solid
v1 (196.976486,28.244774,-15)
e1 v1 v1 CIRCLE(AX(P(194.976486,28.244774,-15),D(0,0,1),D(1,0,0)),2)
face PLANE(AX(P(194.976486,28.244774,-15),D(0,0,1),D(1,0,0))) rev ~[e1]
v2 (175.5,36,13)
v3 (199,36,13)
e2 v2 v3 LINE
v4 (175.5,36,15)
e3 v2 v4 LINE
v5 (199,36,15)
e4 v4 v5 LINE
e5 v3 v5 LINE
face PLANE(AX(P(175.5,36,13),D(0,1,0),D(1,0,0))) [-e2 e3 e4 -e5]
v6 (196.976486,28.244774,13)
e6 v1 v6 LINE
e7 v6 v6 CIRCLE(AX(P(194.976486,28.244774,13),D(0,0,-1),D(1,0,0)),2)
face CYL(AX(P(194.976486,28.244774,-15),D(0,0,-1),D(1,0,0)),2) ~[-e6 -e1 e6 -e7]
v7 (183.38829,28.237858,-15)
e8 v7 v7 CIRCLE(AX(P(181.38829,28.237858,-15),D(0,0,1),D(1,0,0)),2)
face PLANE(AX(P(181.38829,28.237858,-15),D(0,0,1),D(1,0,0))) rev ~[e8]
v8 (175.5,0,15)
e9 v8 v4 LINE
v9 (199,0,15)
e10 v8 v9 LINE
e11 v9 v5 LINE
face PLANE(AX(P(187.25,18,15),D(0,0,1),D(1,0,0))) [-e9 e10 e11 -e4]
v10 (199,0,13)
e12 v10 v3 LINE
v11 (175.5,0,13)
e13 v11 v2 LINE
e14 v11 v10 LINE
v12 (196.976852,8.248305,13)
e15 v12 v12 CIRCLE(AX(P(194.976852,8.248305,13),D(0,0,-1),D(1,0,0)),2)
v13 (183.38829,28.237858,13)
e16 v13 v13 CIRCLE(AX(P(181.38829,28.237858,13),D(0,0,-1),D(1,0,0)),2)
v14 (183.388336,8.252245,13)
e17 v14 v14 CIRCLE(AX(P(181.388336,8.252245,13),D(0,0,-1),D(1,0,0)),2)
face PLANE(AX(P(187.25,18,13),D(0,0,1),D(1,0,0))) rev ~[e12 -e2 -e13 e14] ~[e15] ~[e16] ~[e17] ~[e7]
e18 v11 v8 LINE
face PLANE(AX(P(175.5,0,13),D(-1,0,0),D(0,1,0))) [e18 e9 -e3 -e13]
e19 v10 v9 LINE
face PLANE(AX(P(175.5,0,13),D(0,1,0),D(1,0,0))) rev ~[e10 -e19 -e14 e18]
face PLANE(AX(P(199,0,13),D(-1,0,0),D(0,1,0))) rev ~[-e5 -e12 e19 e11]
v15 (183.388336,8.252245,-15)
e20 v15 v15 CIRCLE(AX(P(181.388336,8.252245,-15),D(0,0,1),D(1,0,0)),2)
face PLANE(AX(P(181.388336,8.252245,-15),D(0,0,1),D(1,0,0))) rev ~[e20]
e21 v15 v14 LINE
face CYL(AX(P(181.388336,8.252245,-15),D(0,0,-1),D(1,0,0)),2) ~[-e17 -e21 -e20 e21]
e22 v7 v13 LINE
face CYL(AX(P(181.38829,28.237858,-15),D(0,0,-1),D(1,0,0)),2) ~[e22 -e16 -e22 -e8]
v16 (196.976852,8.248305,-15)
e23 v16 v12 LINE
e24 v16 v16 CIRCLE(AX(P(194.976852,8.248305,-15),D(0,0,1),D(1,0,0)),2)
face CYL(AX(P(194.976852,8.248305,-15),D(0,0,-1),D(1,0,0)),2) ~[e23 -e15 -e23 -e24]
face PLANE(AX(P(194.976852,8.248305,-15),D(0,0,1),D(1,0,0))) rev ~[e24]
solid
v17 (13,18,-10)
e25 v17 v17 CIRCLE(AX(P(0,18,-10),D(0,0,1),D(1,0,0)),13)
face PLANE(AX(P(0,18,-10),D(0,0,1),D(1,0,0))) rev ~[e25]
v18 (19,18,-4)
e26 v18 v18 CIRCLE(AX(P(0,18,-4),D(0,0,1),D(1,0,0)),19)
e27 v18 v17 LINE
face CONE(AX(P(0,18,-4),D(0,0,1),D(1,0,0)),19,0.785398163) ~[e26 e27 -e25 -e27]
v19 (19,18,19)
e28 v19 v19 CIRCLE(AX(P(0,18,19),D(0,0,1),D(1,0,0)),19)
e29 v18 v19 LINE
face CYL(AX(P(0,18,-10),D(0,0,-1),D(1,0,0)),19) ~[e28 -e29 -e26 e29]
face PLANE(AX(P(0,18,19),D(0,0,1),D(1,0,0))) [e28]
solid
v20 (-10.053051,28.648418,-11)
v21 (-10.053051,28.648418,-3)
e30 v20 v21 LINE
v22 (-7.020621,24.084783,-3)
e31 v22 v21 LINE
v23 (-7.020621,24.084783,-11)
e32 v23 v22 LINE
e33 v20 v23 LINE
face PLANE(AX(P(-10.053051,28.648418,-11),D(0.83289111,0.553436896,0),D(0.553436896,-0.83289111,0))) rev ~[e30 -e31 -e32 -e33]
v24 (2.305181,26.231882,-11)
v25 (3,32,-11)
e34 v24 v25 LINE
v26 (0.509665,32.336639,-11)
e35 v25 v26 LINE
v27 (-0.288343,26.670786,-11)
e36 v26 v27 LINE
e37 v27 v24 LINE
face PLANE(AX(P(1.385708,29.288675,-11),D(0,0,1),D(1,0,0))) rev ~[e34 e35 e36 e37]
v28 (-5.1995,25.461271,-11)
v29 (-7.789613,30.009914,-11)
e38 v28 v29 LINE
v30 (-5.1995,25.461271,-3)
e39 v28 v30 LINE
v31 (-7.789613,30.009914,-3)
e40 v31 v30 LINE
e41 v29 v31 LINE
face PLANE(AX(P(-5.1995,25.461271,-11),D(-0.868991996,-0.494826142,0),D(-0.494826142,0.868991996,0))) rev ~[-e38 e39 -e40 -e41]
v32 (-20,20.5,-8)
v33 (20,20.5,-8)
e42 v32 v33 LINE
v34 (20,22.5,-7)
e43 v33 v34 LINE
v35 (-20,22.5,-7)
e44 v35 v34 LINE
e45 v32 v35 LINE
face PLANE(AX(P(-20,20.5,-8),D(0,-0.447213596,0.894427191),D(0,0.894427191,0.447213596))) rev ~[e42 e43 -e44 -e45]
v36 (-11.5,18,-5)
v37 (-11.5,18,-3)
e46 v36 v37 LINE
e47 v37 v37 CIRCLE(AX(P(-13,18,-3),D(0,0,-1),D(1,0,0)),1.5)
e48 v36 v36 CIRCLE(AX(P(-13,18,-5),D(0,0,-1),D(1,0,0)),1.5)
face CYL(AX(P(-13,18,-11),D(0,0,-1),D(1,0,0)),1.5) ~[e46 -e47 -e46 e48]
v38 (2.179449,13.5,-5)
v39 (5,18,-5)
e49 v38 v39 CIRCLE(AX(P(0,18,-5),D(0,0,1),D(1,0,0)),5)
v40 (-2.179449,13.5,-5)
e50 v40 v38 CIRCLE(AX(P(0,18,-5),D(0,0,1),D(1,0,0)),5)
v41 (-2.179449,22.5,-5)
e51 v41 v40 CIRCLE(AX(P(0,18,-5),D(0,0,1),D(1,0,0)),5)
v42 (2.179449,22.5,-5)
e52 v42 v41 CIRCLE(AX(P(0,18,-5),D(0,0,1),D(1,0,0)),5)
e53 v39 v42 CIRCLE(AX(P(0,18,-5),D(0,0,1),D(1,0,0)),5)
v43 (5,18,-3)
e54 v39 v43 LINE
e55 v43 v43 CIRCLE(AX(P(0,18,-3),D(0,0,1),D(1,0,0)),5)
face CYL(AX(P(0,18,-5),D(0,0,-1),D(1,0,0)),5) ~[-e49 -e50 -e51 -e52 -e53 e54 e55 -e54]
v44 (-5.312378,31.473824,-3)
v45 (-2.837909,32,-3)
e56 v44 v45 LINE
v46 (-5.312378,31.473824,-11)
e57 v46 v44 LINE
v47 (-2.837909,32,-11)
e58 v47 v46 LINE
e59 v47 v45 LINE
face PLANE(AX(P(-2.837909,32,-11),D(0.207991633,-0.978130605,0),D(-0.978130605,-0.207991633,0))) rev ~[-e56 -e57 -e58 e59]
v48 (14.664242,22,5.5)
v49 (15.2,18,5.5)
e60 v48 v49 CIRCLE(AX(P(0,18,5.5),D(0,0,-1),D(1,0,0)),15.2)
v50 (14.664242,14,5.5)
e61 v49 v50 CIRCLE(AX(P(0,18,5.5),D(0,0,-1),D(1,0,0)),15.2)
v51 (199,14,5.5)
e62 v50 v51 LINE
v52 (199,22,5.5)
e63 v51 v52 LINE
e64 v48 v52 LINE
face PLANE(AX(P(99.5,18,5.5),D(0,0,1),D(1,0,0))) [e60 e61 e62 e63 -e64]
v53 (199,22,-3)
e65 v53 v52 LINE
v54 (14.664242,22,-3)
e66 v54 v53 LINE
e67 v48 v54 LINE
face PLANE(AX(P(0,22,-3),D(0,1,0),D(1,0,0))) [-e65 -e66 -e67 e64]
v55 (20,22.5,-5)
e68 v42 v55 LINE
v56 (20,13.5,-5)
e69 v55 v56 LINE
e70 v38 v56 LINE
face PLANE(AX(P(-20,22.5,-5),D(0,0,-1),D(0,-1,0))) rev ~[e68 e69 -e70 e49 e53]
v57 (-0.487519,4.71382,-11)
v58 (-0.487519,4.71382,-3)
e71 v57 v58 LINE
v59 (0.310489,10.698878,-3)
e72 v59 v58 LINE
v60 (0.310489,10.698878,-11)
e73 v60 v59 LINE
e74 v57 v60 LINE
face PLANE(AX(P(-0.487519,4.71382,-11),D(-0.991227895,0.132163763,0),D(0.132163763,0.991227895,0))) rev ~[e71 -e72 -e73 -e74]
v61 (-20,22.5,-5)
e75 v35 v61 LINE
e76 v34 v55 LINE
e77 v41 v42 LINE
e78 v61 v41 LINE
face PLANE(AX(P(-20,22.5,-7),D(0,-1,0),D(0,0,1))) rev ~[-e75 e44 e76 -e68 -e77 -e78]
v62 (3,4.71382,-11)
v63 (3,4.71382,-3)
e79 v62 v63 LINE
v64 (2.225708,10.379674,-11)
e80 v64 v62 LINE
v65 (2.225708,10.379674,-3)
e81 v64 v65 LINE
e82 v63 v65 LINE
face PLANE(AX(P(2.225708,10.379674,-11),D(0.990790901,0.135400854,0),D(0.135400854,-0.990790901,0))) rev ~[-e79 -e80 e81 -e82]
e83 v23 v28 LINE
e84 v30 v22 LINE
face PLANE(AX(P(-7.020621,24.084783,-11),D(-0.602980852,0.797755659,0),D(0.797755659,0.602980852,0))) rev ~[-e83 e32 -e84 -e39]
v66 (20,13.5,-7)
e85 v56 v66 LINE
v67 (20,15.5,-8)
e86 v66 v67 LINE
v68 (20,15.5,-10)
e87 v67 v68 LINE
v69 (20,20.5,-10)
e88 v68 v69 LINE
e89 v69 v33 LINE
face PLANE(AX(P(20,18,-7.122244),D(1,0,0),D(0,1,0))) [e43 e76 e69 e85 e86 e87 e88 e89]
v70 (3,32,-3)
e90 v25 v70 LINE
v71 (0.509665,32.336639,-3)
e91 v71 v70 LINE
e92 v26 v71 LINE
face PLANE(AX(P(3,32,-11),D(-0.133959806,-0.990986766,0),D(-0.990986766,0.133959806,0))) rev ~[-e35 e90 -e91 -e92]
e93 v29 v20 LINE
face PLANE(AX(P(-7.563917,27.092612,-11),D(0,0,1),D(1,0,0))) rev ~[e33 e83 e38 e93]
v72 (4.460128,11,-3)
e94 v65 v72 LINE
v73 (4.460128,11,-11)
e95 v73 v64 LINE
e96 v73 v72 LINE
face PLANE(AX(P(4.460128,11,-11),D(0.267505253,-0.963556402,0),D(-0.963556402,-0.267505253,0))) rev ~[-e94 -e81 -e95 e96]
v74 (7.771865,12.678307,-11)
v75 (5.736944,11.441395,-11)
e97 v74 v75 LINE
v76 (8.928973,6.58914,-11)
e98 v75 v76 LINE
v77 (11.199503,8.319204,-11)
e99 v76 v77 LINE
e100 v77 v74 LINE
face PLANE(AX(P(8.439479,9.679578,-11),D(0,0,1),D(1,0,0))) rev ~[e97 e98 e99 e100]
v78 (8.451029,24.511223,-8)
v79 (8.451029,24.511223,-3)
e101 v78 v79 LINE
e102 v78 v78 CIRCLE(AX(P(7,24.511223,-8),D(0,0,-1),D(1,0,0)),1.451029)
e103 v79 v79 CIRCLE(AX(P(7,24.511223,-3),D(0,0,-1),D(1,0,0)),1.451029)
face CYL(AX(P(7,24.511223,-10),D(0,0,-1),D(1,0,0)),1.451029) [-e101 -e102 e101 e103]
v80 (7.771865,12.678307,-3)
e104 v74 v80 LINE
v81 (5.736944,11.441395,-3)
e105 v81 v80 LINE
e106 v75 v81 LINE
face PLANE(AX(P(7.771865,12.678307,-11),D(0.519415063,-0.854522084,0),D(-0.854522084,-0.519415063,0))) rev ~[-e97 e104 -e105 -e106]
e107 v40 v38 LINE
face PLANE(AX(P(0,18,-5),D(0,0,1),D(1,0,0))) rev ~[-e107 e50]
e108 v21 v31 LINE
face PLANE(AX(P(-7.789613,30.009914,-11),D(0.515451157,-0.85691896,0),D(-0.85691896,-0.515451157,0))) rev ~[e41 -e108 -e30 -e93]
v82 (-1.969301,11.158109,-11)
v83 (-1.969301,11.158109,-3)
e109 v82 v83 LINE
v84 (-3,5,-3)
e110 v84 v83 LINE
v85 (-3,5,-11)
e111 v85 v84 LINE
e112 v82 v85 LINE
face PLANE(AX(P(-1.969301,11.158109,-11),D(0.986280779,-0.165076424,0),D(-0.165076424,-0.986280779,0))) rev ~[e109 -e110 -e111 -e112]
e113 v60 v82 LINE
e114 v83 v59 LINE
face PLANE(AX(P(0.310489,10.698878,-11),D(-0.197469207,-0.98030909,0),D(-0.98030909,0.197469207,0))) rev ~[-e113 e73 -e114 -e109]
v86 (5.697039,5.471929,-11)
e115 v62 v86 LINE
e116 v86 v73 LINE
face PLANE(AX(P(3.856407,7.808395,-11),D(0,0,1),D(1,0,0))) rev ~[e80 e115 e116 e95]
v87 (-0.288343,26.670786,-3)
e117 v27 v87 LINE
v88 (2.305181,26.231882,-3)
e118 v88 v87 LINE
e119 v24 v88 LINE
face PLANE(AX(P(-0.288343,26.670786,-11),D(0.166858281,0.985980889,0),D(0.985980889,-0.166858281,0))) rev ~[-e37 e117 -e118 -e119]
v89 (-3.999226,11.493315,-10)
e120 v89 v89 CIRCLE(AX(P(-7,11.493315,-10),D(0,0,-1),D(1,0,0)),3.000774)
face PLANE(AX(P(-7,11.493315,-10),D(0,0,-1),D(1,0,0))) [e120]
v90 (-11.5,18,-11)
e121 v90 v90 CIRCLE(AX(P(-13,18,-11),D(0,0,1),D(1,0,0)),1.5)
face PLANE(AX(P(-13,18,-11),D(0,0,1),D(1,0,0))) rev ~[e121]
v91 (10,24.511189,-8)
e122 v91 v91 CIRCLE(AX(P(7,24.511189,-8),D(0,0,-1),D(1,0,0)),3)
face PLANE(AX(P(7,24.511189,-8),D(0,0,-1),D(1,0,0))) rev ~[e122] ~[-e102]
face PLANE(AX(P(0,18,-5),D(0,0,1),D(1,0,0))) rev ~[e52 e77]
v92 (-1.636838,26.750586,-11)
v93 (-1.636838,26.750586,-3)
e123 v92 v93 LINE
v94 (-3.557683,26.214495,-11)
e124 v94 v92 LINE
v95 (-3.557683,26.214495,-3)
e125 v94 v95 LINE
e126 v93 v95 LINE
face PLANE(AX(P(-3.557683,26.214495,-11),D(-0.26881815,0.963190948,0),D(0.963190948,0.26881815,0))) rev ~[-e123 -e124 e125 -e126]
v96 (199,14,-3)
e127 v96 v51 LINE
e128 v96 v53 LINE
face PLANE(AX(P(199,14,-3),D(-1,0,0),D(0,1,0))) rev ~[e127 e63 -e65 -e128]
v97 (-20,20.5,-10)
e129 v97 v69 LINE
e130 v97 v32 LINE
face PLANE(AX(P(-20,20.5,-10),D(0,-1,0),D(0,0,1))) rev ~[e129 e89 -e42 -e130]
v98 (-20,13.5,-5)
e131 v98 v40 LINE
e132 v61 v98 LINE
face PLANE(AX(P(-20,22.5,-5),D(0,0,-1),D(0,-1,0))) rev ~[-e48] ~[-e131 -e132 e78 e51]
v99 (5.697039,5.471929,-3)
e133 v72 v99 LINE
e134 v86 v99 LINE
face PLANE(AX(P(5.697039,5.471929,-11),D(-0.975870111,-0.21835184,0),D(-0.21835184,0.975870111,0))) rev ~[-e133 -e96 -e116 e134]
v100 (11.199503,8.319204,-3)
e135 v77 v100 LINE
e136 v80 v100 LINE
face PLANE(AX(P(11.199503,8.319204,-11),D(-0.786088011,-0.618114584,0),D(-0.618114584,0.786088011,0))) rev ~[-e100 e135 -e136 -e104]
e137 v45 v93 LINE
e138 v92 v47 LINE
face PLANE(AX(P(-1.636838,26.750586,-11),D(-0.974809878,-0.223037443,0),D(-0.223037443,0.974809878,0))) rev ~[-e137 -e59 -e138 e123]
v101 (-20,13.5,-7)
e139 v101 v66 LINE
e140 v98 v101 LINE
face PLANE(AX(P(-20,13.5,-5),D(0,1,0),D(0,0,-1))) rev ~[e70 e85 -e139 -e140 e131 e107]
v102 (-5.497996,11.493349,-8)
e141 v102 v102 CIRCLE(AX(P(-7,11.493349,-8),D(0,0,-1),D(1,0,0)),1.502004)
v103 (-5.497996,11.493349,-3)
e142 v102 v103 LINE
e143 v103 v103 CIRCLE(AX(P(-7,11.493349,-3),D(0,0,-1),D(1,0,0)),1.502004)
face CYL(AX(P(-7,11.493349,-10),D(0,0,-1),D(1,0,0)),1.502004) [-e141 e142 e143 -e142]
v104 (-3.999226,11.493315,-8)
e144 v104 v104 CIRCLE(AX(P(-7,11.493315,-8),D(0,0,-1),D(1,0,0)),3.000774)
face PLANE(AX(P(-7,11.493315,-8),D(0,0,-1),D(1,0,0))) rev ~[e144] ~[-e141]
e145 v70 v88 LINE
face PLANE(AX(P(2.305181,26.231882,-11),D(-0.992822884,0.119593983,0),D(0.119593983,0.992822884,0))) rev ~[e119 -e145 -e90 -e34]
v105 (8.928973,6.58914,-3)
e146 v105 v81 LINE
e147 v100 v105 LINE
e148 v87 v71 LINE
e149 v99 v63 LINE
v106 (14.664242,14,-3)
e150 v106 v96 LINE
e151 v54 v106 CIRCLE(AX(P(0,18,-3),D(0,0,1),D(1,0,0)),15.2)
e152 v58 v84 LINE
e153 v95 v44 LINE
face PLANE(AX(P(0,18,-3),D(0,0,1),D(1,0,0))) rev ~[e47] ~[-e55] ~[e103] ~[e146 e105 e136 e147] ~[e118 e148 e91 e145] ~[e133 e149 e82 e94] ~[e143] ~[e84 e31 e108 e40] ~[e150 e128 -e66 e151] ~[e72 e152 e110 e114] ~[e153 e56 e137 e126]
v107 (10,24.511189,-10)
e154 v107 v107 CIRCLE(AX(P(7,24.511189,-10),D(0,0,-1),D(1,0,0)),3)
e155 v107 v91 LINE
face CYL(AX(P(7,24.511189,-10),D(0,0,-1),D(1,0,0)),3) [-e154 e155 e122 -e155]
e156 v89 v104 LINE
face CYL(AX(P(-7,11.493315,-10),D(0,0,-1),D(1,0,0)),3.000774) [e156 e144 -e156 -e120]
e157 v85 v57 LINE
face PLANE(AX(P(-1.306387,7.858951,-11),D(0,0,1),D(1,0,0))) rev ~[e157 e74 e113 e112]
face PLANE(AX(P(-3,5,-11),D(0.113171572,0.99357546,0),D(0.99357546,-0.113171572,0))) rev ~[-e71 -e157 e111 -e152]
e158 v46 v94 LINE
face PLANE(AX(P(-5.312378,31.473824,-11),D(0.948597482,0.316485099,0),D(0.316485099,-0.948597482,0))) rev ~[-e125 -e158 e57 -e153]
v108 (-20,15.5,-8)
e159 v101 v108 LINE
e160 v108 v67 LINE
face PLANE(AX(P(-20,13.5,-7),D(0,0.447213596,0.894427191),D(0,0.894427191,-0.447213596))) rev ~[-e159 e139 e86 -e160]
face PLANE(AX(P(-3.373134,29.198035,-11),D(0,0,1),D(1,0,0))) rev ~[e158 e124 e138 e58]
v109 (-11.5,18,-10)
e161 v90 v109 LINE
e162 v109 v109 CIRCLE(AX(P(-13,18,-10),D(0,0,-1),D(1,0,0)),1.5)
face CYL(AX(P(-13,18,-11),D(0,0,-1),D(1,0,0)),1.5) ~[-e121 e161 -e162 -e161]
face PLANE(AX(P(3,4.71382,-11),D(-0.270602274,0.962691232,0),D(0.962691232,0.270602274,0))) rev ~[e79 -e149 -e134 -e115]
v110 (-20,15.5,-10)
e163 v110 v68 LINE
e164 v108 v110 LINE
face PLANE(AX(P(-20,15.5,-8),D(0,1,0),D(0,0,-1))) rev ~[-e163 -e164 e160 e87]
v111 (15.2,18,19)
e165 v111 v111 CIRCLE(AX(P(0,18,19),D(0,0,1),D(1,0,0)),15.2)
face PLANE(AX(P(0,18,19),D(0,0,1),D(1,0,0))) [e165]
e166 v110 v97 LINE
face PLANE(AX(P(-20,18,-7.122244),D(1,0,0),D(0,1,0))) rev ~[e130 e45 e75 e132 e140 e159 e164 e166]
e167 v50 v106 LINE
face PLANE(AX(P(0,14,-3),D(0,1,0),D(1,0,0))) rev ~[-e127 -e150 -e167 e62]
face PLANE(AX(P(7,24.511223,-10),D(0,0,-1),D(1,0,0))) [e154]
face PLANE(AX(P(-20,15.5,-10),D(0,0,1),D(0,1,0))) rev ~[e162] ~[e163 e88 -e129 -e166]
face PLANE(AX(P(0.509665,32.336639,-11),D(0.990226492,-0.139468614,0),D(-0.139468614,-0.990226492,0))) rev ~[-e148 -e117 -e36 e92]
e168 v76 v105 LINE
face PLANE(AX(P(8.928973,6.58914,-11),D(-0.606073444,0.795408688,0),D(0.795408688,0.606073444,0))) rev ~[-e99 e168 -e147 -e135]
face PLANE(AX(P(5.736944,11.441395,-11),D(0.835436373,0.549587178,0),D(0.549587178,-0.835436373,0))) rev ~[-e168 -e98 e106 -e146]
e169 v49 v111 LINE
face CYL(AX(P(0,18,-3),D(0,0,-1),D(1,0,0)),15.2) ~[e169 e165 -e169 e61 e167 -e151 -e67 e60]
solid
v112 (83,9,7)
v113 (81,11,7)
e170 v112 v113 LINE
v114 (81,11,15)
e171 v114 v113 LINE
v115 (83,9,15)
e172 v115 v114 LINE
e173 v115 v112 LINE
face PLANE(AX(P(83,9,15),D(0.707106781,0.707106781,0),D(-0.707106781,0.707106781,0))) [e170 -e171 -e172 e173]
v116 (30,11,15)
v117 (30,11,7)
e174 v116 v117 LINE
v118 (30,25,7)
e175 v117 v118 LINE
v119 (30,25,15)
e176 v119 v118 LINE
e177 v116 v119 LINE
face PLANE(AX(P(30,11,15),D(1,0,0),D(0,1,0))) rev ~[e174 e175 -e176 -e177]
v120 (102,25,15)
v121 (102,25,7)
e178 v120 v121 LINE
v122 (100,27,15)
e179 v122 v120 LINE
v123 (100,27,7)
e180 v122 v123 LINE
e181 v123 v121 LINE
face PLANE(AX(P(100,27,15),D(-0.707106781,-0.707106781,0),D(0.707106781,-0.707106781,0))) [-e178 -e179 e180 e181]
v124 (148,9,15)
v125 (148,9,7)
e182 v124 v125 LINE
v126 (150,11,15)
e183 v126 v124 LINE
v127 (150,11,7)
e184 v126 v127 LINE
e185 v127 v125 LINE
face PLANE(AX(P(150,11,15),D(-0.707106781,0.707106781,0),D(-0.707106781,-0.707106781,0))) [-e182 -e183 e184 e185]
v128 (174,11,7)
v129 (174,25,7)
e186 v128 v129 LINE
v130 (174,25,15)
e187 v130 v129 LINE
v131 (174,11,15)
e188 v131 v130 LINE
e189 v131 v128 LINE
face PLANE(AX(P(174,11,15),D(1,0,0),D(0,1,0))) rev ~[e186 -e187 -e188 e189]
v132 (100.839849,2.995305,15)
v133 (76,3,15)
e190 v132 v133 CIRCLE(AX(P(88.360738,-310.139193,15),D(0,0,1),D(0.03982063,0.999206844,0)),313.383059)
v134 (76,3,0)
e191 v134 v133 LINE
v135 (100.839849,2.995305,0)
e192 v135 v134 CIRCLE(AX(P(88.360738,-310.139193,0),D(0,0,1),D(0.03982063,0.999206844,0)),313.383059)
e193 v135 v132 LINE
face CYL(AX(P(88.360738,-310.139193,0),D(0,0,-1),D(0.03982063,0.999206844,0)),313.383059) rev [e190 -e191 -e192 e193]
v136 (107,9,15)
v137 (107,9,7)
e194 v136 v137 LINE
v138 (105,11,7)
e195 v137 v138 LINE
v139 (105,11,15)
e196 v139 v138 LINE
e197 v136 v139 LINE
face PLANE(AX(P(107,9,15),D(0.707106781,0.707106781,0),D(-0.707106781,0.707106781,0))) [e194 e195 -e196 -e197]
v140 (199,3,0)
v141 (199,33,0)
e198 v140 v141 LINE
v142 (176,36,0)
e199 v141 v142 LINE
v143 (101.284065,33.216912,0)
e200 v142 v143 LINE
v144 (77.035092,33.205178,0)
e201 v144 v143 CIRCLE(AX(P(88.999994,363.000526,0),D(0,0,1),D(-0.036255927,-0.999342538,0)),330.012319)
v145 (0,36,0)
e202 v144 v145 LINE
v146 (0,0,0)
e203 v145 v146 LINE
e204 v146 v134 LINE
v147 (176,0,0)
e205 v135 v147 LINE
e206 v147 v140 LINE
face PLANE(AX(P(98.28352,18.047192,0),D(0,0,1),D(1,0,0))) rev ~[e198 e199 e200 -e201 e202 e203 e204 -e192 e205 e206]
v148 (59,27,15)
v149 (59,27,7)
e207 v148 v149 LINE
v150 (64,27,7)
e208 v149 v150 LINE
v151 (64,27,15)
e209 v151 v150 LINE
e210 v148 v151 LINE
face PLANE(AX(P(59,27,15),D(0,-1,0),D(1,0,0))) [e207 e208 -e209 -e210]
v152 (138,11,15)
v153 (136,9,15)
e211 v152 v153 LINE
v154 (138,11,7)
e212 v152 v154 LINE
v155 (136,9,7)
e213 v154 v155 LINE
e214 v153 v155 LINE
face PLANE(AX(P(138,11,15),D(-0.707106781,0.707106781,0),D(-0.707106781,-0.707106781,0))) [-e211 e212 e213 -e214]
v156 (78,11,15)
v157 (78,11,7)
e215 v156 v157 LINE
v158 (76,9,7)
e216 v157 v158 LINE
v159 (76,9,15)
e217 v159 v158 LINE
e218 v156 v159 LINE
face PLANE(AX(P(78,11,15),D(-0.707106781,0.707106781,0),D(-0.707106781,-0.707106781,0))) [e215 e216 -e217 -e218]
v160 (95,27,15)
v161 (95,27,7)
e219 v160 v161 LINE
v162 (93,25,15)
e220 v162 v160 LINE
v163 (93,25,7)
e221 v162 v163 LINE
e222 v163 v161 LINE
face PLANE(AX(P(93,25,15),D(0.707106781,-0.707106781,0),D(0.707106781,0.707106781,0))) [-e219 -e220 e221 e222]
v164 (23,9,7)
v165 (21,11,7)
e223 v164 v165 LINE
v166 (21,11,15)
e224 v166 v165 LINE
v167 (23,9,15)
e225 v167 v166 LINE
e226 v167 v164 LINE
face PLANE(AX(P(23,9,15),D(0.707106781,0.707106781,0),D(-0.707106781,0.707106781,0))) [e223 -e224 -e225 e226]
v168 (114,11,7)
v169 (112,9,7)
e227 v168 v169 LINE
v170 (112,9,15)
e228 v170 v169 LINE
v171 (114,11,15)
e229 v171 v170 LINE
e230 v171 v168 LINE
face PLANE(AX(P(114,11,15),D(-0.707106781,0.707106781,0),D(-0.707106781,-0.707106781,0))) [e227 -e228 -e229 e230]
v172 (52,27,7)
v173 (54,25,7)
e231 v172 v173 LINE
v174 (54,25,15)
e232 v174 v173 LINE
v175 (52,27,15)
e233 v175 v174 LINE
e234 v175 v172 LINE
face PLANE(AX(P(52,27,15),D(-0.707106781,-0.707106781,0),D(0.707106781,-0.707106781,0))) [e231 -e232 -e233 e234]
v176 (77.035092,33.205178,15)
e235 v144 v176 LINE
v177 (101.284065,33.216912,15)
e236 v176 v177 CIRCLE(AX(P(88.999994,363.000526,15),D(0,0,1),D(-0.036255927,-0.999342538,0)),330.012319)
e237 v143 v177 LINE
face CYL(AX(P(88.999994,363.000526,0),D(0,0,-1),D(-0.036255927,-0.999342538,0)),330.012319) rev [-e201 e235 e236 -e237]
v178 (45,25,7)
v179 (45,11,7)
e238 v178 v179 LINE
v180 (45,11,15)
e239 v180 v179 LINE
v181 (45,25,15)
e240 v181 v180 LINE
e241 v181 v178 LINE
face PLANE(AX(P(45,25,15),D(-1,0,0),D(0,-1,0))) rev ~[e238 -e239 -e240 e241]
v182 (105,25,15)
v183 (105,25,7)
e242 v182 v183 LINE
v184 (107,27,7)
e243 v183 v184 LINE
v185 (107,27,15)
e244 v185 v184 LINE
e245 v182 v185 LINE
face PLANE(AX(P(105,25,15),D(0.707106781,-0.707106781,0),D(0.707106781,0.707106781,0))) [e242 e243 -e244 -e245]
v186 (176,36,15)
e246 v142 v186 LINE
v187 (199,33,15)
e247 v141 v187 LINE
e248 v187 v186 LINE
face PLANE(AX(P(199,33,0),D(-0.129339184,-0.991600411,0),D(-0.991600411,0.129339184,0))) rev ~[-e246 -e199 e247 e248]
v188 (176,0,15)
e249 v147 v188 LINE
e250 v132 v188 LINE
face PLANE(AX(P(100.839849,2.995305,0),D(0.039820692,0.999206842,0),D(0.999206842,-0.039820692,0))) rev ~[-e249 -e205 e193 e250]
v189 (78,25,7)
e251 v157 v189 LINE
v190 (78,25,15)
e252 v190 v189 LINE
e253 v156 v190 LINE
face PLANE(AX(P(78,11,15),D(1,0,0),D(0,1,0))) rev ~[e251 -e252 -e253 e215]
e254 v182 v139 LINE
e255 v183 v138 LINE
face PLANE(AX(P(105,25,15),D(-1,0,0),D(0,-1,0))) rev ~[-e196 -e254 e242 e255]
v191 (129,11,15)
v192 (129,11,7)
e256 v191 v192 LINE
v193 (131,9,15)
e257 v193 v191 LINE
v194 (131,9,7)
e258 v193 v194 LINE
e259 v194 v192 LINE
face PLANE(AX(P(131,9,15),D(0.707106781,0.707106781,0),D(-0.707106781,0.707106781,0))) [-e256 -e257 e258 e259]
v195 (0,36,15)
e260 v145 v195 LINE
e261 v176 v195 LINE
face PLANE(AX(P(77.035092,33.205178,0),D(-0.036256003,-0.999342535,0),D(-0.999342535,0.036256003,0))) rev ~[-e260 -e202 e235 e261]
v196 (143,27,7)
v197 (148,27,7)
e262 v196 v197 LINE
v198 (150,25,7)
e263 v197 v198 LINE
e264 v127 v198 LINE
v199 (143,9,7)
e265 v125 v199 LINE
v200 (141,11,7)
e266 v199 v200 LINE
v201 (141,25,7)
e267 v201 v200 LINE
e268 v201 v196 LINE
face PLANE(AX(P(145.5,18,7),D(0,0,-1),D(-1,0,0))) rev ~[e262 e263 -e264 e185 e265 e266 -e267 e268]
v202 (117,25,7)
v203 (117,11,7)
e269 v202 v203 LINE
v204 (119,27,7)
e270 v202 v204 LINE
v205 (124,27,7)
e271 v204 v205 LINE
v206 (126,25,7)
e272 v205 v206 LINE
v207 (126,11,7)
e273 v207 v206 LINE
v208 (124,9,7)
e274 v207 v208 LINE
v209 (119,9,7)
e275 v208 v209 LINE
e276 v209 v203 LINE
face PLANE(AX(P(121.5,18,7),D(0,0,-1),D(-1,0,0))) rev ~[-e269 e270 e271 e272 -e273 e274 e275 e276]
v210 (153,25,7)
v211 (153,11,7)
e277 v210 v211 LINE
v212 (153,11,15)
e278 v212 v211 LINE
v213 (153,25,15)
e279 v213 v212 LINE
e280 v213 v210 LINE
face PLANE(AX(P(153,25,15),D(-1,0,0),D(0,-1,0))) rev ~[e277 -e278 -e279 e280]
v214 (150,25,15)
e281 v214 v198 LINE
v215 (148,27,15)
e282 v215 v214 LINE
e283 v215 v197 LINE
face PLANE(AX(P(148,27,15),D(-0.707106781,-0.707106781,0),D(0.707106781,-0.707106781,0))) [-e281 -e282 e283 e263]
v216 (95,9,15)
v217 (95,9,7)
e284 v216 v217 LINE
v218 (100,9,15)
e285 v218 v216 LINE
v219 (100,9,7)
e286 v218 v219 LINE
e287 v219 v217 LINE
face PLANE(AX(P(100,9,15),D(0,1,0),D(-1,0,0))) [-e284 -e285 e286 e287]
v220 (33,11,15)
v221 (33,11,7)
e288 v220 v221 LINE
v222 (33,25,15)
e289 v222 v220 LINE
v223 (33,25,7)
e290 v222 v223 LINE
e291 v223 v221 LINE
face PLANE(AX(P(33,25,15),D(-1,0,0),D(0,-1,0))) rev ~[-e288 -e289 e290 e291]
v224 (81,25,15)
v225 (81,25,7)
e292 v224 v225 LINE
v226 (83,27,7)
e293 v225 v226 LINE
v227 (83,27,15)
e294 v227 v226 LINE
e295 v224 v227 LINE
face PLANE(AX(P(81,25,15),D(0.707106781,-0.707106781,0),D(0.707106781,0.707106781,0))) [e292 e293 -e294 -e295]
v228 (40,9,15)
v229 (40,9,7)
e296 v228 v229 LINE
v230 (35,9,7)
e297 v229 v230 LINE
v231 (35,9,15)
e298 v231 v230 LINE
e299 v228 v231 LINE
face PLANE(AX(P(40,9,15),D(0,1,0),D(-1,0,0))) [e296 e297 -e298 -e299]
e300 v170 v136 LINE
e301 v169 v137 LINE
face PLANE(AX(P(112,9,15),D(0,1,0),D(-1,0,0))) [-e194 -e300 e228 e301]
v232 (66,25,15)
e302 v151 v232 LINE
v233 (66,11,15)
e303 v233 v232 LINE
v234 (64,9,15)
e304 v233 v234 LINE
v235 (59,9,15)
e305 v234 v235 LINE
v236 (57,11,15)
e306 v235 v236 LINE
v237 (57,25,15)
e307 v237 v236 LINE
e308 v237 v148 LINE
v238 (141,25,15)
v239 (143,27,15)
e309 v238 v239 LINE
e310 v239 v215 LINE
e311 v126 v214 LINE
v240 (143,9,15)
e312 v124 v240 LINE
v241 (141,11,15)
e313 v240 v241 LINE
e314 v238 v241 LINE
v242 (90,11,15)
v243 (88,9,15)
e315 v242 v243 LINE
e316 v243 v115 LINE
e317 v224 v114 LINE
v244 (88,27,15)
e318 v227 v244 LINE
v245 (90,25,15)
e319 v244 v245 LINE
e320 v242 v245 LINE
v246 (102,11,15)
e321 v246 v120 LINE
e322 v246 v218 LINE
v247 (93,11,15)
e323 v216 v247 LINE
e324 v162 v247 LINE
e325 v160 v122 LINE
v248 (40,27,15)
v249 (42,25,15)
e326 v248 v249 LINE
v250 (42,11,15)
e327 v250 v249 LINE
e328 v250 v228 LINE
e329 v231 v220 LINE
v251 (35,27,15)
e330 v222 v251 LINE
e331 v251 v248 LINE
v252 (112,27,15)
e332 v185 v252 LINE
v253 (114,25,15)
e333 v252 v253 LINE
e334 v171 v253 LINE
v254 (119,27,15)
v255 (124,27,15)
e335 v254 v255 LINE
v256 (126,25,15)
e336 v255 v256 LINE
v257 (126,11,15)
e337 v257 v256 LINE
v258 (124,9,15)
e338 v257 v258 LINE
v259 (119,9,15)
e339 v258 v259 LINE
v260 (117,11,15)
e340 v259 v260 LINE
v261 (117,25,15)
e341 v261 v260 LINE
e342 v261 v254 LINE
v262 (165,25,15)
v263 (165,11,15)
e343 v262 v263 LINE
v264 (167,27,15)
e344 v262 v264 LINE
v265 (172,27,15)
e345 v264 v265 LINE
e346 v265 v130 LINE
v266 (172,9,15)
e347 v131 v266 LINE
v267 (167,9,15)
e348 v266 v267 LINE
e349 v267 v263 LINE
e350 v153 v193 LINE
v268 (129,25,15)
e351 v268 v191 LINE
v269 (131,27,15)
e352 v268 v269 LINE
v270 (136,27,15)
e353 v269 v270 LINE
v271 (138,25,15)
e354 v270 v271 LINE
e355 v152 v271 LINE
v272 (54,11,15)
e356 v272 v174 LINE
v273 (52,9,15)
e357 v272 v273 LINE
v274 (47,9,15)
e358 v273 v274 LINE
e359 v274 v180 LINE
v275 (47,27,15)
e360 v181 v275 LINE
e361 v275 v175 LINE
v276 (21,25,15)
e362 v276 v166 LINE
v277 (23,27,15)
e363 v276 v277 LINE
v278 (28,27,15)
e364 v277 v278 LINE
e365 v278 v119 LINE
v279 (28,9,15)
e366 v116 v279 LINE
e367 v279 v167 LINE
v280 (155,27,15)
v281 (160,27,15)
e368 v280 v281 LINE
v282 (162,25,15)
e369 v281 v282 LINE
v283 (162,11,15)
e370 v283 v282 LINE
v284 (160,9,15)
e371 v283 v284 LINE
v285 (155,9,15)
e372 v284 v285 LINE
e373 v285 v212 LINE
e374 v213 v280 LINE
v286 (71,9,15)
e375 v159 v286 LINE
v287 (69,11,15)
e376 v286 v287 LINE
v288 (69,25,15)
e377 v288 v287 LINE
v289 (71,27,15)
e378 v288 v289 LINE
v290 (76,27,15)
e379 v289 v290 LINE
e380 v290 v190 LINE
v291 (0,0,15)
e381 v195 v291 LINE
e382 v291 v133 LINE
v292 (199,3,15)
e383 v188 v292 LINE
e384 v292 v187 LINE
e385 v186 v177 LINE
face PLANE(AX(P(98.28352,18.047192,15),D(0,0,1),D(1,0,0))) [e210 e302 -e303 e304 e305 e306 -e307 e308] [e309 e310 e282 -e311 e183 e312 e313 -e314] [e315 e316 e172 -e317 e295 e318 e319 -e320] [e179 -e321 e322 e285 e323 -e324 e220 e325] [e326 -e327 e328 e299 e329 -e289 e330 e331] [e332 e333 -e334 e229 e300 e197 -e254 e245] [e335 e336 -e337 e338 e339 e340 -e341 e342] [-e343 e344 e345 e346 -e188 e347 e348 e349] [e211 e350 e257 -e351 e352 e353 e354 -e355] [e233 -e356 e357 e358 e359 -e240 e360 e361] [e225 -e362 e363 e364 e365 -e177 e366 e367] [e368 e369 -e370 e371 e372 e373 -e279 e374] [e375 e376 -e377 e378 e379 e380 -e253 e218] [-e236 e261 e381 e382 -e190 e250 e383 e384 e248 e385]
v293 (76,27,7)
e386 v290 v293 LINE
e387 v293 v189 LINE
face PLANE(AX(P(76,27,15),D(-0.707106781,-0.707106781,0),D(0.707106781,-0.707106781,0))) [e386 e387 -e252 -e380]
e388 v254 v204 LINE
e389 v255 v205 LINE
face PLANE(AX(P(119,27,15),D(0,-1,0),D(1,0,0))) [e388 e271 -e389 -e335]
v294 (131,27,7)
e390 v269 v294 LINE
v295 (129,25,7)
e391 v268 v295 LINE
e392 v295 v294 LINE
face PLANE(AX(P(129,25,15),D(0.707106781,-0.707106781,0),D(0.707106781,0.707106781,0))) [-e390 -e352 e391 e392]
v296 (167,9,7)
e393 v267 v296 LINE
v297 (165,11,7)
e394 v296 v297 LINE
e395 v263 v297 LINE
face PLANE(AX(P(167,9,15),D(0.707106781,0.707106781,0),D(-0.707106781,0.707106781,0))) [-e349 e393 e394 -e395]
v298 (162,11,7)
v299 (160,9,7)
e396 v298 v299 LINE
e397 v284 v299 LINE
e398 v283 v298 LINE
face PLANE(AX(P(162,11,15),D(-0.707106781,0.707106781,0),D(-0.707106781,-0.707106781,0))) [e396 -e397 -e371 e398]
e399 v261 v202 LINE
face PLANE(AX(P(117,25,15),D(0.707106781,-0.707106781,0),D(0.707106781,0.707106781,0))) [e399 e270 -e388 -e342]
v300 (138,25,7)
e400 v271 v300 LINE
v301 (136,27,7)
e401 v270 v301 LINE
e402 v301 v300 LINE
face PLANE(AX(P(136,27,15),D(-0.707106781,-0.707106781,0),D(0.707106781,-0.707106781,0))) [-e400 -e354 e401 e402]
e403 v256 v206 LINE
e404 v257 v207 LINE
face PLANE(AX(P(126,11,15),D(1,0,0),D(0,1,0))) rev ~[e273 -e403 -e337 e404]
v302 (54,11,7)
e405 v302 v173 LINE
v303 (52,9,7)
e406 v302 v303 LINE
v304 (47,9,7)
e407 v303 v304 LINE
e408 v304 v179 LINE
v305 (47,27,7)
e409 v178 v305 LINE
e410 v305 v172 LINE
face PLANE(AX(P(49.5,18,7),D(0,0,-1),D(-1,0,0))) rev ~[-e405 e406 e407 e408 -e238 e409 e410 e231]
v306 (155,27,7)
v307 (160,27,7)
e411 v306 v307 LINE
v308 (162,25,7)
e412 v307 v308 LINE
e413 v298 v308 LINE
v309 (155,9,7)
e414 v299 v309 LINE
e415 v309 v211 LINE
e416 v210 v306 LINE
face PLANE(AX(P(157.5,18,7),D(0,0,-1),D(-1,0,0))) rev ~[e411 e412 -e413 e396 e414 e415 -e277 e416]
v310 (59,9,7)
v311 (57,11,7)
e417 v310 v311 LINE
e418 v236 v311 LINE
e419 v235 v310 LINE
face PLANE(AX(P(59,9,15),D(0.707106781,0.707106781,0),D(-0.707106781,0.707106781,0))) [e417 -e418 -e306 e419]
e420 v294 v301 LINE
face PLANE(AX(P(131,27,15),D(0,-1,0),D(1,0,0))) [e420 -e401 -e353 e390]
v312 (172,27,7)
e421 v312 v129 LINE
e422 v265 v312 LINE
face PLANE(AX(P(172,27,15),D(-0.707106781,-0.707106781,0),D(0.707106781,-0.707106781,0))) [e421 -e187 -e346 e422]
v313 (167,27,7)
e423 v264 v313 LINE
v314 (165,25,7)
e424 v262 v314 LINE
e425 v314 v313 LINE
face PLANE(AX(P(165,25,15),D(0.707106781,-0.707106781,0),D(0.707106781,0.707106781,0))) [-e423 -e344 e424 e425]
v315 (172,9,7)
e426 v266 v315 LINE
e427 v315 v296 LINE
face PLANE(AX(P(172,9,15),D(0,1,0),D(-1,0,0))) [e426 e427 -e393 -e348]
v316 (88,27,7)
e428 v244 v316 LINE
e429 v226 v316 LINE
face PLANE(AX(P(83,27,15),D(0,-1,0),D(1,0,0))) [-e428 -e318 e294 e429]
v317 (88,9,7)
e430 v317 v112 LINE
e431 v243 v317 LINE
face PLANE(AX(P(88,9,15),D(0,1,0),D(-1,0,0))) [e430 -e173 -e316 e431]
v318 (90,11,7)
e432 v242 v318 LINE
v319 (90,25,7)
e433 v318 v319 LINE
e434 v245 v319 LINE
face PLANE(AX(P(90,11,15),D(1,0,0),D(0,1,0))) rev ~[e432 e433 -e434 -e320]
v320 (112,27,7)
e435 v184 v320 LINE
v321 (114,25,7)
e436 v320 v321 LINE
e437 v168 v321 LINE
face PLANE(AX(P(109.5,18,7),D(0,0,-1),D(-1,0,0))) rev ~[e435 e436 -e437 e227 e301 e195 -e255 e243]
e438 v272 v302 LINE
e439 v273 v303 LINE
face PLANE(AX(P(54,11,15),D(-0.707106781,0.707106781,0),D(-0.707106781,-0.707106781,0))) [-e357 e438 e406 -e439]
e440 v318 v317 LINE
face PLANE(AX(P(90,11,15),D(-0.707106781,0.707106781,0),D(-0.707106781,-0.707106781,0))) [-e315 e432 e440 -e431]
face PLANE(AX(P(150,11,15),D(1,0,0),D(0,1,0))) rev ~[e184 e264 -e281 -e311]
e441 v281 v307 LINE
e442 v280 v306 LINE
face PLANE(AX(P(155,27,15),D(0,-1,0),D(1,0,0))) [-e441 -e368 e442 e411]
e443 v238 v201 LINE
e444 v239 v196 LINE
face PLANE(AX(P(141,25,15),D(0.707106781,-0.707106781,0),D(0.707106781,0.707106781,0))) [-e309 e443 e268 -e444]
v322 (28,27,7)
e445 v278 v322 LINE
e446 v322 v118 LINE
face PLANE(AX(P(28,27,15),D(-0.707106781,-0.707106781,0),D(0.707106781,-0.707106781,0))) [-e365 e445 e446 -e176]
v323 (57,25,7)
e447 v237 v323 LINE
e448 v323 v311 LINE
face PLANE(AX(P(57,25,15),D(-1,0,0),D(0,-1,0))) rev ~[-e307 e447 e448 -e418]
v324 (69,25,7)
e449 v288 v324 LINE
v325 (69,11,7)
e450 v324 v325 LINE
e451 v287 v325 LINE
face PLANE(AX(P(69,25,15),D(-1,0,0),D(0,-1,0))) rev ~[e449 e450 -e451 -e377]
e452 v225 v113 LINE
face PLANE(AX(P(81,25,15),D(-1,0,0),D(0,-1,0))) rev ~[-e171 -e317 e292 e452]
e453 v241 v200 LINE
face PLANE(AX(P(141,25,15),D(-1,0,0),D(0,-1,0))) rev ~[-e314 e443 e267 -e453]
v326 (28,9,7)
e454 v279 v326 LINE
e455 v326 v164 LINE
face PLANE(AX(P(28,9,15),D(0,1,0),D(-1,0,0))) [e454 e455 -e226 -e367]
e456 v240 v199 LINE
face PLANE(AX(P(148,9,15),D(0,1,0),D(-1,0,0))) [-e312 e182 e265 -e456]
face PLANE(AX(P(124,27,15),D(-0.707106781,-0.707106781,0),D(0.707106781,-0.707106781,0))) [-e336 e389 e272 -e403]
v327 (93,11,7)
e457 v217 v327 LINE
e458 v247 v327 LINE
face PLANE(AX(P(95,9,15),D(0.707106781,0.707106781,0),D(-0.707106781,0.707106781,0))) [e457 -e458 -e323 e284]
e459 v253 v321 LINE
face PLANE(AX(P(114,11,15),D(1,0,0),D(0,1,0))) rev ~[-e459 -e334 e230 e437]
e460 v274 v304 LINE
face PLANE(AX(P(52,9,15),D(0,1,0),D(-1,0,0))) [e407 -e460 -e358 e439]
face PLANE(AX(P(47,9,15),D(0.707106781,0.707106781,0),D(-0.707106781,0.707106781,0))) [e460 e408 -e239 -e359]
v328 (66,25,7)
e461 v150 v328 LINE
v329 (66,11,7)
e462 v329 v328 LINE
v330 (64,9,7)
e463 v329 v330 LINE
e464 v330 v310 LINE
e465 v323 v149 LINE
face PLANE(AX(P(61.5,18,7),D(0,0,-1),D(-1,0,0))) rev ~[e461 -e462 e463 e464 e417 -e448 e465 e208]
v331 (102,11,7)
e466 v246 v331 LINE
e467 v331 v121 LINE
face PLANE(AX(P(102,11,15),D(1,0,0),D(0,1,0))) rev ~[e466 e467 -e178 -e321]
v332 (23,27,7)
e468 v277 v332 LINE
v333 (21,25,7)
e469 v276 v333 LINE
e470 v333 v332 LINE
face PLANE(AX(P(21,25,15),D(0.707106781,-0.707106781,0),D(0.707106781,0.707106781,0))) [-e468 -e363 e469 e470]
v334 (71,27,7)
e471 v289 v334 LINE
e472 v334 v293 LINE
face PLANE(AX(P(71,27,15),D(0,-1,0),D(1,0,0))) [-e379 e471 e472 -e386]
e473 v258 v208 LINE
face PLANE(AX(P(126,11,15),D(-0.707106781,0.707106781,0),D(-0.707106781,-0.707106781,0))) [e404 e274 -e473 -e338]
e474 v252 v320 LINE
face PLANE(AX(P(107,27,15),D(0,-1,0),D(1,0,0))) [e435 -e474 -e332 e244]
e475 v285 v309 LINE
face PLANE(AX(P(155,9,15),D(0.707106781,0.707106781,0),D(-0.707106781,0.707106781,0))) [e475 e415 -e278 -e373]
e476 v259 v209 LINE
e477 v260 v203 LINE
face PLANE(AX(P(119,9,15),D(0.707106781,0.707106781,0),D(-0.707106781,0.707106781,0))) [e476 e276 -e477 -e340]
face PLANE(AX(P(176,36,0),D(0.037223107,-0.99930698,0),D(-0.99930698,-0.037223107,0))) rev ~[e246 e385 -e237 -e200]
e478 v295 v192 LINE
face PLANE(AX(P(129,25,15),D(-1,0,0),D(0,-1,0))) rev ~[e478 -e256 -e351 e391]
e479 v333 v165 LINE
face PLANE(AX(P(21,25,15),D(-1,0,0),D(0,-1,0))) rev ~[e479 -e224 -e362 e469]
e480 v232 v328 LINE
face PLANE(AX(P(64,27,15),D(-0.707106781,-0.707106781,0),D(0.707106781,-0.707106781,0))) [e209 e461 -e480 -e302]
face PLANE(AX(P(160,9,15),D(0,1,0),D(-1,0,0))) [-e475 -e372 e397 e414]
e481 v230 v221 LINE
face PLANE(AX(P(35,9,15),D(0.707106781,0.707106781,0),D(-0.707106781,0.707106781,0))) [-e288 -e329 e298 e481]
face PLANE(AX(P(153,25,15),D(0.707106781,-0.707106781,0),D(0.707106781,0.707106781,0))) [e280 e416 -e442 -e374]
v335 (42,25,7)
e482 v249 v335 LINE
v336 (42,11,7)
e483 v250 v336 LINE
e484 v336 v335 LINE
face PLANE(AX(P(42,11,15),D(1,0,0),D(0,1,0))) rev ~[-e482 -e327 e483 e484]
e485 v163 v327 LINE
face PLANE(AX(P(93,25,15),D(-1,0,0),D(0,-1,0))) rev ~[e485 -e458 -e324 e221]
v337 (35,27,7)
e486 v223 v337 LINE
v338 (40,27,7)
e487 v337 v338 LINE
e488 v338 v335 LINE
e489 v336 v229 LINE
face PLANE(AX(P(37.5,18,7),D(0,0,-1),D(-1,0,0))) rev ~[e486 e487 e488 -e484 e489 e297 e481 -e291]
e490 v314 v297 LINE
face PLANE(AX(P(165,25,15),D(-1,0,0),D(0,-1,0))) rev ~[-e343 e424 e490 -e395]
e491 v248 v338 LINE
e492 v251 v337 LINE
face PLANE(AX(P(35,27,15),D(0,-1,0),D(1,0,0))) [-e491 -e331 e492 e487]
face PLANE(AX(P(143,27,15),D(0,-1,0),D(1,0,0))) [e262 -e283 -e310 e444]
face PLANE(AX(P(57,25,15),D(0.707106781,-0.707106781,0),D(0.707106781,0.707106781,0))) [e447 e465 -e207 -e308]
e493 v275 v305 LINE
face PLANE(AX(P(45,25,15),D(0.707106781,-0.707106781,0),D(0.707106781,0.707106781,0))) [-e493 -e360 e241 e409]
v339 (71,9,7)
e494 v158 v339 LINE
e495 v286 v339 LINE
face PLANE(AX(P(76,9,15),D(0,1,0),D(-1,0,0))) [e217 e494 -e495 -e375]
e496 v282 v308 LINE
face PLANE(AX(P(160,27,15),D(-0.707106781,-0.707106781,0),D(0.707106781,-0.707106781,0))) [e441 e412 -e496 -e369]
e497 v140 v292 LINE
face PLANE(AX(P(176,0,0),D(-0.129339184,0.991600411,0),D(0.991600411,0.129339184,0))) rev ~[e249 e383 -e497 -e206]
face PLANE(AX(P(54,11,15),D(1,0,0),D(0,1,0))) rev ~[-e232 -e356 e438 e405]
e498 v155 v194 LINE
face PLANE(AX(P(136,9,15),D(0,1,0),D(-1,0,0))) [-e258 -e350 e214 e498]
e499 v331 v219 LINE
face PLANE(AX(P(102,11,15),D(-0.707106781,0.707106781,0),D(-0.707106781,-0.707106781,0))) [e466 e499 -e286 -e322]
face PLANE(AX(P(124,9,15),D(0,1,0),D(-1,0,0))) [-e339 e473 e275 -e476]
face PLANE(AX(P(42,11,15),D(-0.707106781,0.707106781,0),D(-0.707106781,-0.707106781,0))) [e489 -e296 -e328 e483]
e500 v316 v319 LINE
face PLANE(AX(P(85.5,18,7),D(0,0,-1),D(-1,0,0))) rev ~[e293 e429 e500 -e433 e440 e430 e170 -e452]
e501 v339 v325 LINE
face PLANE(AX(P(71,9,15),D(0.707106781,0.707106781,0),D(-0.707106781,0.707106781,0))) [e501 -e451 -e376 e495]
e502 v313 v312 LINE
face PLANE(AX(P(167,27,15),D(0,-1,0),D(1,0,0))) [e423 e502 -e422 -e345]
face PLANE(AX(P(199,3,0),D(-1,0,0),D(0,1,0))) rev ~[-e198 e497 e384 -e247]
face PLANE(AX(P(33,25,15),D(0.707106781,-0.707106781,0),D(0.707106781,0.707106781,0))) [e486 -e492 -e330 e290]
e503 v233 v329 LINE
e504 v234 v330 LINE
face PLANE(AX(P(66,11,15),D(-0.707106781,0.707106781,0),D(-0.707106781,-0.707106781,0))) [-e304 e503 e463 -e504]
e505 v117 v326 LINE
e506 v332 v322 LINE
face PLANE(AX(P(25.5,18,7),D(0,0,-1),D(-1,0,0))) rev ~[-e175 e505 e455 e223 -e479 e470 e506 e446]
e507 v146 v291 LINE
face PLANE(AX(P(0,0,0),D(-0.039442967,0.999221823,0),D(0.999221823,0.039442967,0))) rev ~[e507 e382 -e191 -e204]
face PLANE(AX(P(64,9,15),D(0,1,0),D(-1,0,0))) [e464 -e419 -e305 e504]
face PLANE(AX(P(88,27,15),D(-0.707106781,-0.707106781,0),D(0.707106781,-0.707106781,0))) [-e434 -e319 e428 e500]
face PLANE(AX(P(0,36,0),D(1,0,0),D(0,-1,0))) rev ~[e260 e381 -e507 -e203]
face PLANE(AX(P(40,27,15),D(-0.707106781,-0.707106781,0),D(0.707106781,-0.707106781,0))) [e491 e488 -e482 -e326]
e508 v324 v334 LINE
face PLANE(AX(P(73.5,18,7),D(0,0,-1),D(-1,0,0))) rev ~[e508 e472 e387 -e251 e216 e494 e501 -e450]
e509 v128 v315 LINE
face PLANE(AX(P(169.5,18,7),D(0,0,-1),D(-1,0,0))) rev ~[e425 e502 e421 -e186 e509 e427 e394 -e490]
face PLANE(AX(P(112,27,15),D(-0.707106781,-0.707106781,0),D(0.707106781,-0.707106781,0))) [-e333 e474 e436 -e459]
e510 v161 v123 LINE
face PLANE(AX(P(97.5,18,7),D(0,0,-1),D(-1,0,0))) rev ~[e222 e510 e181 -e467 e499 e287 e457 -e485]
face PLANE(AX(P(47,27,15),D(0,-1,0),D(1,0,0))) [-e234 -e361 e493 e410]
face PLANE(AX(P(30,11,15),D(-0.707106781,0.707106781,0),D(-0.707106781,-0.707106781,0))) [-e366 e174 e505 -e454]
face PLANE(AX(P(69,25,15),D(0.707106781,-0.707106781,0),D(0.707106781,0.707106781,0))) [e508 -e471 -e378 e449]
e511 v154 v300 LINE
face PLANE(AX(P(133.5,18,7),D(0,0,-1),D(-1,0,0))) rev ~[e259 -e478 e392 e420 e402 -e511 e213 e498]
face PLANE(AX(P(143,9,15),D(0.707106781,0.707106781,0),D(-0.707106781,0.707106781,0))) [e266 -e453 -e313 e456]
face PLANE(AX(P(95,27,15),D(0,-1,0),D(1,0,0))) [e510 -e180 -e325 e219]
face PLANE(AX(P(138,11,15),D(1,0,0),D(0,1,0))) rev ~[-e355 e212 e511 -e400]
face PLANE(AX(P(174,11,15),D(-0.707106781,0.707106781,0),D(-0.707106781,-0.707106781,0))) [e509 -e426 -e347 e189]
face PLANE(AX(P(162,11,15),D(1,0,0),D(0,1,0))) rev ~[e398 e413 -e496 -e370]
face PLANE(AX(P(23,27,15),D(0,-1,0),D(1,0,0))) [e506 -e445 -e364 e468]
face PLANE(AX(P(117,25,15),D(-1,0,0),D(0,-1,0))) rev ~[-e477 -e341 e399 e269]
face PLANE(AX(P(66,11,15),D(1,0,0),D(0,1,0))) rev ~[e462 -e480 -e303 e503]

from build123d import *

# Parameters (mm, degrees)
CYLINDER_R          = 19
CYLINDER_DEPTH      = 29
CHAMFER_SIZE        = 6
CYLINDER001_R       = 15.2
CYLINDER001_DEPTH   = 22
BOX001_W            = 23.5
BOX001_H            = 36
BOX001_DEPTH        = 2
CYLINDER002_R       = 5
CYLINDER002_DEPTH   = 10
PAD003_DEPTH        = 40
BOX002_W            = 199
BOX002_H            = 8
BOX002_DEPTH        = 8.5
SKETCH002_R         = 3.000774
SKETCH002_R_2       = 3
PAD_DEPTH           = 2
PAD002_DEPTH        = 10
SKETCH001_R         = 1.502004
SKETCH001_R_2       = 1.451029
PAD001_DEPTH        = 10
SKETCH005_R         = 2
PAD005_DEPTH        = 30
CYLINDER003_R       = 1.5
CYLINDER003_DEPTH   = 10
PAD004_DEPTH        = 15
POCKET_DEPTH        = 8
LINEARPATTERN_COUNT = 13
LINEARPATTERN_PITCH = 12


with BuildPart() as chamfer_body:
    # Cylinder → Cylinder (new body)
    with BuildSketch(Plane(origin=(0, 18, -10), x_dir=(1, 0, 0), z_dir=(0, 0, 1))):
        Circle(CYLINDER_R)
    extrude(amount=CYLINDER_DEPTH)

    # Chamfer
    chamfer_edges = [chamfer_body.edges().sort_by_distance(p)[0] for p in [
        (-19, 18, -10),
    ]]
    chamfer(chamfer_edges, length=CHAMFER_SIZE)


with BuildPart() as cylinder001:
    # Cylinder001 → Cylinder001 (new body)
    with BuildSketch(Plane(origin=(0, 18, -3), x_dir=(1, 0, 0), z_dir=(0, 0, 1))):
        Circle(CYLINDER001_R)
    extrude(amount=CYLINDER001_DEPTH)


with BuildPart() as cube001:
    # Box001 → Box001 (new body)
    with BuildSketch(Plane(origin=(175.5, 0, 13), x_dir=(1, 0, 0), z_dir=(0, 0, 1))):
        with Locations((11.75, 18)):
            Rectangle(BOX001_W, BOX001_H)
    extrude(amount=BOX001_DEPTH)


with BuildPart() as cylinder002:
    # Cylinder002 → Cylinder002 (new body)
    with BuildSketch(Plane(origin=(0, 18, -5), x_dir=(1, 0, 0), z_dir=(0, 0, 1))):
        Circle(CYLINDER002_R)
    extrude(amount=CYLINDER002_DEPTH)


with BuildPart() as pad003:
    # Sketch → Pad003 (new body)
    with BuildSketch(Plane(origin=(-20, 29.5, -6), x_dir=(0, -1, 0), z_dir=(-1, 0, 0))):
        Polygon((7, 1), (16, 1), (16, -1), (14, -2), (14, -4), (9, -4), (9, -2), (7, -1), align=None)
    extrude(amount=-PAD003_DEPTH)


with BuildPart() as cube002:
    # Box002 → Box002 (new body)
    with BuildSketch(Plane(origin=(0, 14, -3), x_dir=(1, 0, 0), z_dir=(0, 0, 1))):
        with Locations((99.5, 4)):
            Rectangle(BOX002_W, BOX002_H)
    extrude(amount=BOX002_DEPTH)


with BuildPart() as pad:
    # Sketch002 → Pad (new body)
    with BuildSketch(Plane(origin=(0, 0, -10), x_dir=(1, 0, 0), z_dir=(0, 0, -1))):
        with Locations((-7, -11.493315)):
            Circle(SKETCH002_R)
        with Locations((7, -24.511189)):
            Circle(SKETCH002_R_2)
    extrude(amount=-PAD_DEPTH)


with BuildPart() as pad002:
    # Sketch003 → Pad002 (new body)
    with BuildSketch(Plane.XY.offset(-11)):
        Polygon((-3, 5), (-0.487519, 4.71382), (0.310489, 10.698878), (-1.969301, 11.158109), align=None)
        Polygon((3, 4.71382), (5.697039, 5.471929), (4.460128, 11), (2.225708, 10.379674), align=None)
        Polygon((8.928973, 6.58914), (11.199503, 8.319204), (7.771865, 12.678307), (5.736944, 11.441395), align=None)
        Polygon((3, 32), (0.509665, 32.336639), (-0.288343, 26.670786), (2.305181, 26.231882), align=None)
        Polygon((-2.837909, 32), (-5.312378, 31.473824), (-3.557683, 26.214495), (-1.636838, 26.750586), align=None)
        Polygon((-7.789613, 30.009914), (-10.053051, 28.648418), (-7.020621, 24.084783), (-5.1995, 25.461271), align=None)
    extrude(amount=PAD002_DEPTH)


with BuildPart() as pad001:
    # Sketch001 → Pad001 (new body)
    with BuildSketch(Plane(origin=(0, 0, -10), x_dir=(1, 0, 0), z_dir=(0, 0, -1))):
        with Locations((-7, -11.493349)):
            Circle(SKETCH001_R)
        with Locations((7, -24.511223)):
            Circle(SKETCH001_R_2)
    extrude(amount=-PAD001_DEPTH)


with BuildPart() as pad005:
    # Sketch005 → Pad005 (new body)
    with BuildSketch(Plane(origin=(-6.25, 4, -15), x_dir=(1, 0, 0), z_dir=(0, 0, 1))):
        with Locations((201.226852, 4.248305)):
            Circle(SKETCH005_R)
        with Locations((201.226486, 24.244774)):
            Circle(SKETCH005_R)
        with Locations((187.638336, 4.252245)):
            Circle(SKETCH005_R)
        with Locations((187.63829, 24.237858)):
            Circle(SKETCH005_R)
    extrude(amount=PAD005_DEPTH)


with BuildPart() as fusion:
    # Cylinder003 → Cylinder003 (new body)
    with BuildSketch(Plane(origin=(-13, 18, -11), x_dir=(1, 0, 0), z_dir=(0, 0, 1))):
        Circle(CYLINDER003_R)
    extrude(amount=CYLINDER003_DEPTH)

    # Fusion: union Cylinder001, Cube001, Cylinder002, Pad003, Cube002, Pad, Pad002, Pad001, Pad005
    add(cylinder001.part)
    add(cube001.part)
    add(cylinder002.part)
    add(pad003.part)
    add(cube002.part)
    add(pad.part)
    add(pad002.part)
    add(pad001.part)
    add(pad005.part)


with BuildPart() as linearpattern:
    # Sketch004 → Pad004 (new body)
    with BuildSketch(Plane.XY):
        with BuildLine():
            Line((0, 0), (76, 3))
            ThreePointArc((100.839849, 2.995305), (88.419971, 3.243861), (76, 3))
            Line((100.839849, 2.995305), (176, 0))
            Line((176, 0), (199, 3))
            Line((199, 3), (199, 33))
            Line((199, 33), (176, 36))
            Line((176, 36), (101.284065, 33.216912))
            ThreePointArc((77.035092, 33.205178), (89.159687, 32.988246), (101.284065, 33.216912))
            Line((77.035092, 33.205178), (0, 36))
            Line((0, 36), (0, 0))
        make_face()
    extrude(amount=PAD004_DEPTH)

    # Sketch006 → Pocket (cut)
    with BuildSketch(Plane.XY.offset(15)):
        Polygon((21, 18), (21, 25), (23, 27), (28, 27), (30, 25), (30, 18), (30, 11), (28, 9), (23, 9), (21, 11), align=None)
    pocket = extrude(amount=-POCKET_DEPTH, mode=Mode.SUBTRACT)

    # LinearPattern: Pocket ×13
    with Locations(*[(i * LINEARPATTERN_PITCH, 0, 0) for i in range(1, LINEARPATTERN_COUNT)]):
        add(pocket, mode=Mode.SUBTRACT)


solid = Compound([chamfer_body.part, fusion.part, linearpattern.part])
